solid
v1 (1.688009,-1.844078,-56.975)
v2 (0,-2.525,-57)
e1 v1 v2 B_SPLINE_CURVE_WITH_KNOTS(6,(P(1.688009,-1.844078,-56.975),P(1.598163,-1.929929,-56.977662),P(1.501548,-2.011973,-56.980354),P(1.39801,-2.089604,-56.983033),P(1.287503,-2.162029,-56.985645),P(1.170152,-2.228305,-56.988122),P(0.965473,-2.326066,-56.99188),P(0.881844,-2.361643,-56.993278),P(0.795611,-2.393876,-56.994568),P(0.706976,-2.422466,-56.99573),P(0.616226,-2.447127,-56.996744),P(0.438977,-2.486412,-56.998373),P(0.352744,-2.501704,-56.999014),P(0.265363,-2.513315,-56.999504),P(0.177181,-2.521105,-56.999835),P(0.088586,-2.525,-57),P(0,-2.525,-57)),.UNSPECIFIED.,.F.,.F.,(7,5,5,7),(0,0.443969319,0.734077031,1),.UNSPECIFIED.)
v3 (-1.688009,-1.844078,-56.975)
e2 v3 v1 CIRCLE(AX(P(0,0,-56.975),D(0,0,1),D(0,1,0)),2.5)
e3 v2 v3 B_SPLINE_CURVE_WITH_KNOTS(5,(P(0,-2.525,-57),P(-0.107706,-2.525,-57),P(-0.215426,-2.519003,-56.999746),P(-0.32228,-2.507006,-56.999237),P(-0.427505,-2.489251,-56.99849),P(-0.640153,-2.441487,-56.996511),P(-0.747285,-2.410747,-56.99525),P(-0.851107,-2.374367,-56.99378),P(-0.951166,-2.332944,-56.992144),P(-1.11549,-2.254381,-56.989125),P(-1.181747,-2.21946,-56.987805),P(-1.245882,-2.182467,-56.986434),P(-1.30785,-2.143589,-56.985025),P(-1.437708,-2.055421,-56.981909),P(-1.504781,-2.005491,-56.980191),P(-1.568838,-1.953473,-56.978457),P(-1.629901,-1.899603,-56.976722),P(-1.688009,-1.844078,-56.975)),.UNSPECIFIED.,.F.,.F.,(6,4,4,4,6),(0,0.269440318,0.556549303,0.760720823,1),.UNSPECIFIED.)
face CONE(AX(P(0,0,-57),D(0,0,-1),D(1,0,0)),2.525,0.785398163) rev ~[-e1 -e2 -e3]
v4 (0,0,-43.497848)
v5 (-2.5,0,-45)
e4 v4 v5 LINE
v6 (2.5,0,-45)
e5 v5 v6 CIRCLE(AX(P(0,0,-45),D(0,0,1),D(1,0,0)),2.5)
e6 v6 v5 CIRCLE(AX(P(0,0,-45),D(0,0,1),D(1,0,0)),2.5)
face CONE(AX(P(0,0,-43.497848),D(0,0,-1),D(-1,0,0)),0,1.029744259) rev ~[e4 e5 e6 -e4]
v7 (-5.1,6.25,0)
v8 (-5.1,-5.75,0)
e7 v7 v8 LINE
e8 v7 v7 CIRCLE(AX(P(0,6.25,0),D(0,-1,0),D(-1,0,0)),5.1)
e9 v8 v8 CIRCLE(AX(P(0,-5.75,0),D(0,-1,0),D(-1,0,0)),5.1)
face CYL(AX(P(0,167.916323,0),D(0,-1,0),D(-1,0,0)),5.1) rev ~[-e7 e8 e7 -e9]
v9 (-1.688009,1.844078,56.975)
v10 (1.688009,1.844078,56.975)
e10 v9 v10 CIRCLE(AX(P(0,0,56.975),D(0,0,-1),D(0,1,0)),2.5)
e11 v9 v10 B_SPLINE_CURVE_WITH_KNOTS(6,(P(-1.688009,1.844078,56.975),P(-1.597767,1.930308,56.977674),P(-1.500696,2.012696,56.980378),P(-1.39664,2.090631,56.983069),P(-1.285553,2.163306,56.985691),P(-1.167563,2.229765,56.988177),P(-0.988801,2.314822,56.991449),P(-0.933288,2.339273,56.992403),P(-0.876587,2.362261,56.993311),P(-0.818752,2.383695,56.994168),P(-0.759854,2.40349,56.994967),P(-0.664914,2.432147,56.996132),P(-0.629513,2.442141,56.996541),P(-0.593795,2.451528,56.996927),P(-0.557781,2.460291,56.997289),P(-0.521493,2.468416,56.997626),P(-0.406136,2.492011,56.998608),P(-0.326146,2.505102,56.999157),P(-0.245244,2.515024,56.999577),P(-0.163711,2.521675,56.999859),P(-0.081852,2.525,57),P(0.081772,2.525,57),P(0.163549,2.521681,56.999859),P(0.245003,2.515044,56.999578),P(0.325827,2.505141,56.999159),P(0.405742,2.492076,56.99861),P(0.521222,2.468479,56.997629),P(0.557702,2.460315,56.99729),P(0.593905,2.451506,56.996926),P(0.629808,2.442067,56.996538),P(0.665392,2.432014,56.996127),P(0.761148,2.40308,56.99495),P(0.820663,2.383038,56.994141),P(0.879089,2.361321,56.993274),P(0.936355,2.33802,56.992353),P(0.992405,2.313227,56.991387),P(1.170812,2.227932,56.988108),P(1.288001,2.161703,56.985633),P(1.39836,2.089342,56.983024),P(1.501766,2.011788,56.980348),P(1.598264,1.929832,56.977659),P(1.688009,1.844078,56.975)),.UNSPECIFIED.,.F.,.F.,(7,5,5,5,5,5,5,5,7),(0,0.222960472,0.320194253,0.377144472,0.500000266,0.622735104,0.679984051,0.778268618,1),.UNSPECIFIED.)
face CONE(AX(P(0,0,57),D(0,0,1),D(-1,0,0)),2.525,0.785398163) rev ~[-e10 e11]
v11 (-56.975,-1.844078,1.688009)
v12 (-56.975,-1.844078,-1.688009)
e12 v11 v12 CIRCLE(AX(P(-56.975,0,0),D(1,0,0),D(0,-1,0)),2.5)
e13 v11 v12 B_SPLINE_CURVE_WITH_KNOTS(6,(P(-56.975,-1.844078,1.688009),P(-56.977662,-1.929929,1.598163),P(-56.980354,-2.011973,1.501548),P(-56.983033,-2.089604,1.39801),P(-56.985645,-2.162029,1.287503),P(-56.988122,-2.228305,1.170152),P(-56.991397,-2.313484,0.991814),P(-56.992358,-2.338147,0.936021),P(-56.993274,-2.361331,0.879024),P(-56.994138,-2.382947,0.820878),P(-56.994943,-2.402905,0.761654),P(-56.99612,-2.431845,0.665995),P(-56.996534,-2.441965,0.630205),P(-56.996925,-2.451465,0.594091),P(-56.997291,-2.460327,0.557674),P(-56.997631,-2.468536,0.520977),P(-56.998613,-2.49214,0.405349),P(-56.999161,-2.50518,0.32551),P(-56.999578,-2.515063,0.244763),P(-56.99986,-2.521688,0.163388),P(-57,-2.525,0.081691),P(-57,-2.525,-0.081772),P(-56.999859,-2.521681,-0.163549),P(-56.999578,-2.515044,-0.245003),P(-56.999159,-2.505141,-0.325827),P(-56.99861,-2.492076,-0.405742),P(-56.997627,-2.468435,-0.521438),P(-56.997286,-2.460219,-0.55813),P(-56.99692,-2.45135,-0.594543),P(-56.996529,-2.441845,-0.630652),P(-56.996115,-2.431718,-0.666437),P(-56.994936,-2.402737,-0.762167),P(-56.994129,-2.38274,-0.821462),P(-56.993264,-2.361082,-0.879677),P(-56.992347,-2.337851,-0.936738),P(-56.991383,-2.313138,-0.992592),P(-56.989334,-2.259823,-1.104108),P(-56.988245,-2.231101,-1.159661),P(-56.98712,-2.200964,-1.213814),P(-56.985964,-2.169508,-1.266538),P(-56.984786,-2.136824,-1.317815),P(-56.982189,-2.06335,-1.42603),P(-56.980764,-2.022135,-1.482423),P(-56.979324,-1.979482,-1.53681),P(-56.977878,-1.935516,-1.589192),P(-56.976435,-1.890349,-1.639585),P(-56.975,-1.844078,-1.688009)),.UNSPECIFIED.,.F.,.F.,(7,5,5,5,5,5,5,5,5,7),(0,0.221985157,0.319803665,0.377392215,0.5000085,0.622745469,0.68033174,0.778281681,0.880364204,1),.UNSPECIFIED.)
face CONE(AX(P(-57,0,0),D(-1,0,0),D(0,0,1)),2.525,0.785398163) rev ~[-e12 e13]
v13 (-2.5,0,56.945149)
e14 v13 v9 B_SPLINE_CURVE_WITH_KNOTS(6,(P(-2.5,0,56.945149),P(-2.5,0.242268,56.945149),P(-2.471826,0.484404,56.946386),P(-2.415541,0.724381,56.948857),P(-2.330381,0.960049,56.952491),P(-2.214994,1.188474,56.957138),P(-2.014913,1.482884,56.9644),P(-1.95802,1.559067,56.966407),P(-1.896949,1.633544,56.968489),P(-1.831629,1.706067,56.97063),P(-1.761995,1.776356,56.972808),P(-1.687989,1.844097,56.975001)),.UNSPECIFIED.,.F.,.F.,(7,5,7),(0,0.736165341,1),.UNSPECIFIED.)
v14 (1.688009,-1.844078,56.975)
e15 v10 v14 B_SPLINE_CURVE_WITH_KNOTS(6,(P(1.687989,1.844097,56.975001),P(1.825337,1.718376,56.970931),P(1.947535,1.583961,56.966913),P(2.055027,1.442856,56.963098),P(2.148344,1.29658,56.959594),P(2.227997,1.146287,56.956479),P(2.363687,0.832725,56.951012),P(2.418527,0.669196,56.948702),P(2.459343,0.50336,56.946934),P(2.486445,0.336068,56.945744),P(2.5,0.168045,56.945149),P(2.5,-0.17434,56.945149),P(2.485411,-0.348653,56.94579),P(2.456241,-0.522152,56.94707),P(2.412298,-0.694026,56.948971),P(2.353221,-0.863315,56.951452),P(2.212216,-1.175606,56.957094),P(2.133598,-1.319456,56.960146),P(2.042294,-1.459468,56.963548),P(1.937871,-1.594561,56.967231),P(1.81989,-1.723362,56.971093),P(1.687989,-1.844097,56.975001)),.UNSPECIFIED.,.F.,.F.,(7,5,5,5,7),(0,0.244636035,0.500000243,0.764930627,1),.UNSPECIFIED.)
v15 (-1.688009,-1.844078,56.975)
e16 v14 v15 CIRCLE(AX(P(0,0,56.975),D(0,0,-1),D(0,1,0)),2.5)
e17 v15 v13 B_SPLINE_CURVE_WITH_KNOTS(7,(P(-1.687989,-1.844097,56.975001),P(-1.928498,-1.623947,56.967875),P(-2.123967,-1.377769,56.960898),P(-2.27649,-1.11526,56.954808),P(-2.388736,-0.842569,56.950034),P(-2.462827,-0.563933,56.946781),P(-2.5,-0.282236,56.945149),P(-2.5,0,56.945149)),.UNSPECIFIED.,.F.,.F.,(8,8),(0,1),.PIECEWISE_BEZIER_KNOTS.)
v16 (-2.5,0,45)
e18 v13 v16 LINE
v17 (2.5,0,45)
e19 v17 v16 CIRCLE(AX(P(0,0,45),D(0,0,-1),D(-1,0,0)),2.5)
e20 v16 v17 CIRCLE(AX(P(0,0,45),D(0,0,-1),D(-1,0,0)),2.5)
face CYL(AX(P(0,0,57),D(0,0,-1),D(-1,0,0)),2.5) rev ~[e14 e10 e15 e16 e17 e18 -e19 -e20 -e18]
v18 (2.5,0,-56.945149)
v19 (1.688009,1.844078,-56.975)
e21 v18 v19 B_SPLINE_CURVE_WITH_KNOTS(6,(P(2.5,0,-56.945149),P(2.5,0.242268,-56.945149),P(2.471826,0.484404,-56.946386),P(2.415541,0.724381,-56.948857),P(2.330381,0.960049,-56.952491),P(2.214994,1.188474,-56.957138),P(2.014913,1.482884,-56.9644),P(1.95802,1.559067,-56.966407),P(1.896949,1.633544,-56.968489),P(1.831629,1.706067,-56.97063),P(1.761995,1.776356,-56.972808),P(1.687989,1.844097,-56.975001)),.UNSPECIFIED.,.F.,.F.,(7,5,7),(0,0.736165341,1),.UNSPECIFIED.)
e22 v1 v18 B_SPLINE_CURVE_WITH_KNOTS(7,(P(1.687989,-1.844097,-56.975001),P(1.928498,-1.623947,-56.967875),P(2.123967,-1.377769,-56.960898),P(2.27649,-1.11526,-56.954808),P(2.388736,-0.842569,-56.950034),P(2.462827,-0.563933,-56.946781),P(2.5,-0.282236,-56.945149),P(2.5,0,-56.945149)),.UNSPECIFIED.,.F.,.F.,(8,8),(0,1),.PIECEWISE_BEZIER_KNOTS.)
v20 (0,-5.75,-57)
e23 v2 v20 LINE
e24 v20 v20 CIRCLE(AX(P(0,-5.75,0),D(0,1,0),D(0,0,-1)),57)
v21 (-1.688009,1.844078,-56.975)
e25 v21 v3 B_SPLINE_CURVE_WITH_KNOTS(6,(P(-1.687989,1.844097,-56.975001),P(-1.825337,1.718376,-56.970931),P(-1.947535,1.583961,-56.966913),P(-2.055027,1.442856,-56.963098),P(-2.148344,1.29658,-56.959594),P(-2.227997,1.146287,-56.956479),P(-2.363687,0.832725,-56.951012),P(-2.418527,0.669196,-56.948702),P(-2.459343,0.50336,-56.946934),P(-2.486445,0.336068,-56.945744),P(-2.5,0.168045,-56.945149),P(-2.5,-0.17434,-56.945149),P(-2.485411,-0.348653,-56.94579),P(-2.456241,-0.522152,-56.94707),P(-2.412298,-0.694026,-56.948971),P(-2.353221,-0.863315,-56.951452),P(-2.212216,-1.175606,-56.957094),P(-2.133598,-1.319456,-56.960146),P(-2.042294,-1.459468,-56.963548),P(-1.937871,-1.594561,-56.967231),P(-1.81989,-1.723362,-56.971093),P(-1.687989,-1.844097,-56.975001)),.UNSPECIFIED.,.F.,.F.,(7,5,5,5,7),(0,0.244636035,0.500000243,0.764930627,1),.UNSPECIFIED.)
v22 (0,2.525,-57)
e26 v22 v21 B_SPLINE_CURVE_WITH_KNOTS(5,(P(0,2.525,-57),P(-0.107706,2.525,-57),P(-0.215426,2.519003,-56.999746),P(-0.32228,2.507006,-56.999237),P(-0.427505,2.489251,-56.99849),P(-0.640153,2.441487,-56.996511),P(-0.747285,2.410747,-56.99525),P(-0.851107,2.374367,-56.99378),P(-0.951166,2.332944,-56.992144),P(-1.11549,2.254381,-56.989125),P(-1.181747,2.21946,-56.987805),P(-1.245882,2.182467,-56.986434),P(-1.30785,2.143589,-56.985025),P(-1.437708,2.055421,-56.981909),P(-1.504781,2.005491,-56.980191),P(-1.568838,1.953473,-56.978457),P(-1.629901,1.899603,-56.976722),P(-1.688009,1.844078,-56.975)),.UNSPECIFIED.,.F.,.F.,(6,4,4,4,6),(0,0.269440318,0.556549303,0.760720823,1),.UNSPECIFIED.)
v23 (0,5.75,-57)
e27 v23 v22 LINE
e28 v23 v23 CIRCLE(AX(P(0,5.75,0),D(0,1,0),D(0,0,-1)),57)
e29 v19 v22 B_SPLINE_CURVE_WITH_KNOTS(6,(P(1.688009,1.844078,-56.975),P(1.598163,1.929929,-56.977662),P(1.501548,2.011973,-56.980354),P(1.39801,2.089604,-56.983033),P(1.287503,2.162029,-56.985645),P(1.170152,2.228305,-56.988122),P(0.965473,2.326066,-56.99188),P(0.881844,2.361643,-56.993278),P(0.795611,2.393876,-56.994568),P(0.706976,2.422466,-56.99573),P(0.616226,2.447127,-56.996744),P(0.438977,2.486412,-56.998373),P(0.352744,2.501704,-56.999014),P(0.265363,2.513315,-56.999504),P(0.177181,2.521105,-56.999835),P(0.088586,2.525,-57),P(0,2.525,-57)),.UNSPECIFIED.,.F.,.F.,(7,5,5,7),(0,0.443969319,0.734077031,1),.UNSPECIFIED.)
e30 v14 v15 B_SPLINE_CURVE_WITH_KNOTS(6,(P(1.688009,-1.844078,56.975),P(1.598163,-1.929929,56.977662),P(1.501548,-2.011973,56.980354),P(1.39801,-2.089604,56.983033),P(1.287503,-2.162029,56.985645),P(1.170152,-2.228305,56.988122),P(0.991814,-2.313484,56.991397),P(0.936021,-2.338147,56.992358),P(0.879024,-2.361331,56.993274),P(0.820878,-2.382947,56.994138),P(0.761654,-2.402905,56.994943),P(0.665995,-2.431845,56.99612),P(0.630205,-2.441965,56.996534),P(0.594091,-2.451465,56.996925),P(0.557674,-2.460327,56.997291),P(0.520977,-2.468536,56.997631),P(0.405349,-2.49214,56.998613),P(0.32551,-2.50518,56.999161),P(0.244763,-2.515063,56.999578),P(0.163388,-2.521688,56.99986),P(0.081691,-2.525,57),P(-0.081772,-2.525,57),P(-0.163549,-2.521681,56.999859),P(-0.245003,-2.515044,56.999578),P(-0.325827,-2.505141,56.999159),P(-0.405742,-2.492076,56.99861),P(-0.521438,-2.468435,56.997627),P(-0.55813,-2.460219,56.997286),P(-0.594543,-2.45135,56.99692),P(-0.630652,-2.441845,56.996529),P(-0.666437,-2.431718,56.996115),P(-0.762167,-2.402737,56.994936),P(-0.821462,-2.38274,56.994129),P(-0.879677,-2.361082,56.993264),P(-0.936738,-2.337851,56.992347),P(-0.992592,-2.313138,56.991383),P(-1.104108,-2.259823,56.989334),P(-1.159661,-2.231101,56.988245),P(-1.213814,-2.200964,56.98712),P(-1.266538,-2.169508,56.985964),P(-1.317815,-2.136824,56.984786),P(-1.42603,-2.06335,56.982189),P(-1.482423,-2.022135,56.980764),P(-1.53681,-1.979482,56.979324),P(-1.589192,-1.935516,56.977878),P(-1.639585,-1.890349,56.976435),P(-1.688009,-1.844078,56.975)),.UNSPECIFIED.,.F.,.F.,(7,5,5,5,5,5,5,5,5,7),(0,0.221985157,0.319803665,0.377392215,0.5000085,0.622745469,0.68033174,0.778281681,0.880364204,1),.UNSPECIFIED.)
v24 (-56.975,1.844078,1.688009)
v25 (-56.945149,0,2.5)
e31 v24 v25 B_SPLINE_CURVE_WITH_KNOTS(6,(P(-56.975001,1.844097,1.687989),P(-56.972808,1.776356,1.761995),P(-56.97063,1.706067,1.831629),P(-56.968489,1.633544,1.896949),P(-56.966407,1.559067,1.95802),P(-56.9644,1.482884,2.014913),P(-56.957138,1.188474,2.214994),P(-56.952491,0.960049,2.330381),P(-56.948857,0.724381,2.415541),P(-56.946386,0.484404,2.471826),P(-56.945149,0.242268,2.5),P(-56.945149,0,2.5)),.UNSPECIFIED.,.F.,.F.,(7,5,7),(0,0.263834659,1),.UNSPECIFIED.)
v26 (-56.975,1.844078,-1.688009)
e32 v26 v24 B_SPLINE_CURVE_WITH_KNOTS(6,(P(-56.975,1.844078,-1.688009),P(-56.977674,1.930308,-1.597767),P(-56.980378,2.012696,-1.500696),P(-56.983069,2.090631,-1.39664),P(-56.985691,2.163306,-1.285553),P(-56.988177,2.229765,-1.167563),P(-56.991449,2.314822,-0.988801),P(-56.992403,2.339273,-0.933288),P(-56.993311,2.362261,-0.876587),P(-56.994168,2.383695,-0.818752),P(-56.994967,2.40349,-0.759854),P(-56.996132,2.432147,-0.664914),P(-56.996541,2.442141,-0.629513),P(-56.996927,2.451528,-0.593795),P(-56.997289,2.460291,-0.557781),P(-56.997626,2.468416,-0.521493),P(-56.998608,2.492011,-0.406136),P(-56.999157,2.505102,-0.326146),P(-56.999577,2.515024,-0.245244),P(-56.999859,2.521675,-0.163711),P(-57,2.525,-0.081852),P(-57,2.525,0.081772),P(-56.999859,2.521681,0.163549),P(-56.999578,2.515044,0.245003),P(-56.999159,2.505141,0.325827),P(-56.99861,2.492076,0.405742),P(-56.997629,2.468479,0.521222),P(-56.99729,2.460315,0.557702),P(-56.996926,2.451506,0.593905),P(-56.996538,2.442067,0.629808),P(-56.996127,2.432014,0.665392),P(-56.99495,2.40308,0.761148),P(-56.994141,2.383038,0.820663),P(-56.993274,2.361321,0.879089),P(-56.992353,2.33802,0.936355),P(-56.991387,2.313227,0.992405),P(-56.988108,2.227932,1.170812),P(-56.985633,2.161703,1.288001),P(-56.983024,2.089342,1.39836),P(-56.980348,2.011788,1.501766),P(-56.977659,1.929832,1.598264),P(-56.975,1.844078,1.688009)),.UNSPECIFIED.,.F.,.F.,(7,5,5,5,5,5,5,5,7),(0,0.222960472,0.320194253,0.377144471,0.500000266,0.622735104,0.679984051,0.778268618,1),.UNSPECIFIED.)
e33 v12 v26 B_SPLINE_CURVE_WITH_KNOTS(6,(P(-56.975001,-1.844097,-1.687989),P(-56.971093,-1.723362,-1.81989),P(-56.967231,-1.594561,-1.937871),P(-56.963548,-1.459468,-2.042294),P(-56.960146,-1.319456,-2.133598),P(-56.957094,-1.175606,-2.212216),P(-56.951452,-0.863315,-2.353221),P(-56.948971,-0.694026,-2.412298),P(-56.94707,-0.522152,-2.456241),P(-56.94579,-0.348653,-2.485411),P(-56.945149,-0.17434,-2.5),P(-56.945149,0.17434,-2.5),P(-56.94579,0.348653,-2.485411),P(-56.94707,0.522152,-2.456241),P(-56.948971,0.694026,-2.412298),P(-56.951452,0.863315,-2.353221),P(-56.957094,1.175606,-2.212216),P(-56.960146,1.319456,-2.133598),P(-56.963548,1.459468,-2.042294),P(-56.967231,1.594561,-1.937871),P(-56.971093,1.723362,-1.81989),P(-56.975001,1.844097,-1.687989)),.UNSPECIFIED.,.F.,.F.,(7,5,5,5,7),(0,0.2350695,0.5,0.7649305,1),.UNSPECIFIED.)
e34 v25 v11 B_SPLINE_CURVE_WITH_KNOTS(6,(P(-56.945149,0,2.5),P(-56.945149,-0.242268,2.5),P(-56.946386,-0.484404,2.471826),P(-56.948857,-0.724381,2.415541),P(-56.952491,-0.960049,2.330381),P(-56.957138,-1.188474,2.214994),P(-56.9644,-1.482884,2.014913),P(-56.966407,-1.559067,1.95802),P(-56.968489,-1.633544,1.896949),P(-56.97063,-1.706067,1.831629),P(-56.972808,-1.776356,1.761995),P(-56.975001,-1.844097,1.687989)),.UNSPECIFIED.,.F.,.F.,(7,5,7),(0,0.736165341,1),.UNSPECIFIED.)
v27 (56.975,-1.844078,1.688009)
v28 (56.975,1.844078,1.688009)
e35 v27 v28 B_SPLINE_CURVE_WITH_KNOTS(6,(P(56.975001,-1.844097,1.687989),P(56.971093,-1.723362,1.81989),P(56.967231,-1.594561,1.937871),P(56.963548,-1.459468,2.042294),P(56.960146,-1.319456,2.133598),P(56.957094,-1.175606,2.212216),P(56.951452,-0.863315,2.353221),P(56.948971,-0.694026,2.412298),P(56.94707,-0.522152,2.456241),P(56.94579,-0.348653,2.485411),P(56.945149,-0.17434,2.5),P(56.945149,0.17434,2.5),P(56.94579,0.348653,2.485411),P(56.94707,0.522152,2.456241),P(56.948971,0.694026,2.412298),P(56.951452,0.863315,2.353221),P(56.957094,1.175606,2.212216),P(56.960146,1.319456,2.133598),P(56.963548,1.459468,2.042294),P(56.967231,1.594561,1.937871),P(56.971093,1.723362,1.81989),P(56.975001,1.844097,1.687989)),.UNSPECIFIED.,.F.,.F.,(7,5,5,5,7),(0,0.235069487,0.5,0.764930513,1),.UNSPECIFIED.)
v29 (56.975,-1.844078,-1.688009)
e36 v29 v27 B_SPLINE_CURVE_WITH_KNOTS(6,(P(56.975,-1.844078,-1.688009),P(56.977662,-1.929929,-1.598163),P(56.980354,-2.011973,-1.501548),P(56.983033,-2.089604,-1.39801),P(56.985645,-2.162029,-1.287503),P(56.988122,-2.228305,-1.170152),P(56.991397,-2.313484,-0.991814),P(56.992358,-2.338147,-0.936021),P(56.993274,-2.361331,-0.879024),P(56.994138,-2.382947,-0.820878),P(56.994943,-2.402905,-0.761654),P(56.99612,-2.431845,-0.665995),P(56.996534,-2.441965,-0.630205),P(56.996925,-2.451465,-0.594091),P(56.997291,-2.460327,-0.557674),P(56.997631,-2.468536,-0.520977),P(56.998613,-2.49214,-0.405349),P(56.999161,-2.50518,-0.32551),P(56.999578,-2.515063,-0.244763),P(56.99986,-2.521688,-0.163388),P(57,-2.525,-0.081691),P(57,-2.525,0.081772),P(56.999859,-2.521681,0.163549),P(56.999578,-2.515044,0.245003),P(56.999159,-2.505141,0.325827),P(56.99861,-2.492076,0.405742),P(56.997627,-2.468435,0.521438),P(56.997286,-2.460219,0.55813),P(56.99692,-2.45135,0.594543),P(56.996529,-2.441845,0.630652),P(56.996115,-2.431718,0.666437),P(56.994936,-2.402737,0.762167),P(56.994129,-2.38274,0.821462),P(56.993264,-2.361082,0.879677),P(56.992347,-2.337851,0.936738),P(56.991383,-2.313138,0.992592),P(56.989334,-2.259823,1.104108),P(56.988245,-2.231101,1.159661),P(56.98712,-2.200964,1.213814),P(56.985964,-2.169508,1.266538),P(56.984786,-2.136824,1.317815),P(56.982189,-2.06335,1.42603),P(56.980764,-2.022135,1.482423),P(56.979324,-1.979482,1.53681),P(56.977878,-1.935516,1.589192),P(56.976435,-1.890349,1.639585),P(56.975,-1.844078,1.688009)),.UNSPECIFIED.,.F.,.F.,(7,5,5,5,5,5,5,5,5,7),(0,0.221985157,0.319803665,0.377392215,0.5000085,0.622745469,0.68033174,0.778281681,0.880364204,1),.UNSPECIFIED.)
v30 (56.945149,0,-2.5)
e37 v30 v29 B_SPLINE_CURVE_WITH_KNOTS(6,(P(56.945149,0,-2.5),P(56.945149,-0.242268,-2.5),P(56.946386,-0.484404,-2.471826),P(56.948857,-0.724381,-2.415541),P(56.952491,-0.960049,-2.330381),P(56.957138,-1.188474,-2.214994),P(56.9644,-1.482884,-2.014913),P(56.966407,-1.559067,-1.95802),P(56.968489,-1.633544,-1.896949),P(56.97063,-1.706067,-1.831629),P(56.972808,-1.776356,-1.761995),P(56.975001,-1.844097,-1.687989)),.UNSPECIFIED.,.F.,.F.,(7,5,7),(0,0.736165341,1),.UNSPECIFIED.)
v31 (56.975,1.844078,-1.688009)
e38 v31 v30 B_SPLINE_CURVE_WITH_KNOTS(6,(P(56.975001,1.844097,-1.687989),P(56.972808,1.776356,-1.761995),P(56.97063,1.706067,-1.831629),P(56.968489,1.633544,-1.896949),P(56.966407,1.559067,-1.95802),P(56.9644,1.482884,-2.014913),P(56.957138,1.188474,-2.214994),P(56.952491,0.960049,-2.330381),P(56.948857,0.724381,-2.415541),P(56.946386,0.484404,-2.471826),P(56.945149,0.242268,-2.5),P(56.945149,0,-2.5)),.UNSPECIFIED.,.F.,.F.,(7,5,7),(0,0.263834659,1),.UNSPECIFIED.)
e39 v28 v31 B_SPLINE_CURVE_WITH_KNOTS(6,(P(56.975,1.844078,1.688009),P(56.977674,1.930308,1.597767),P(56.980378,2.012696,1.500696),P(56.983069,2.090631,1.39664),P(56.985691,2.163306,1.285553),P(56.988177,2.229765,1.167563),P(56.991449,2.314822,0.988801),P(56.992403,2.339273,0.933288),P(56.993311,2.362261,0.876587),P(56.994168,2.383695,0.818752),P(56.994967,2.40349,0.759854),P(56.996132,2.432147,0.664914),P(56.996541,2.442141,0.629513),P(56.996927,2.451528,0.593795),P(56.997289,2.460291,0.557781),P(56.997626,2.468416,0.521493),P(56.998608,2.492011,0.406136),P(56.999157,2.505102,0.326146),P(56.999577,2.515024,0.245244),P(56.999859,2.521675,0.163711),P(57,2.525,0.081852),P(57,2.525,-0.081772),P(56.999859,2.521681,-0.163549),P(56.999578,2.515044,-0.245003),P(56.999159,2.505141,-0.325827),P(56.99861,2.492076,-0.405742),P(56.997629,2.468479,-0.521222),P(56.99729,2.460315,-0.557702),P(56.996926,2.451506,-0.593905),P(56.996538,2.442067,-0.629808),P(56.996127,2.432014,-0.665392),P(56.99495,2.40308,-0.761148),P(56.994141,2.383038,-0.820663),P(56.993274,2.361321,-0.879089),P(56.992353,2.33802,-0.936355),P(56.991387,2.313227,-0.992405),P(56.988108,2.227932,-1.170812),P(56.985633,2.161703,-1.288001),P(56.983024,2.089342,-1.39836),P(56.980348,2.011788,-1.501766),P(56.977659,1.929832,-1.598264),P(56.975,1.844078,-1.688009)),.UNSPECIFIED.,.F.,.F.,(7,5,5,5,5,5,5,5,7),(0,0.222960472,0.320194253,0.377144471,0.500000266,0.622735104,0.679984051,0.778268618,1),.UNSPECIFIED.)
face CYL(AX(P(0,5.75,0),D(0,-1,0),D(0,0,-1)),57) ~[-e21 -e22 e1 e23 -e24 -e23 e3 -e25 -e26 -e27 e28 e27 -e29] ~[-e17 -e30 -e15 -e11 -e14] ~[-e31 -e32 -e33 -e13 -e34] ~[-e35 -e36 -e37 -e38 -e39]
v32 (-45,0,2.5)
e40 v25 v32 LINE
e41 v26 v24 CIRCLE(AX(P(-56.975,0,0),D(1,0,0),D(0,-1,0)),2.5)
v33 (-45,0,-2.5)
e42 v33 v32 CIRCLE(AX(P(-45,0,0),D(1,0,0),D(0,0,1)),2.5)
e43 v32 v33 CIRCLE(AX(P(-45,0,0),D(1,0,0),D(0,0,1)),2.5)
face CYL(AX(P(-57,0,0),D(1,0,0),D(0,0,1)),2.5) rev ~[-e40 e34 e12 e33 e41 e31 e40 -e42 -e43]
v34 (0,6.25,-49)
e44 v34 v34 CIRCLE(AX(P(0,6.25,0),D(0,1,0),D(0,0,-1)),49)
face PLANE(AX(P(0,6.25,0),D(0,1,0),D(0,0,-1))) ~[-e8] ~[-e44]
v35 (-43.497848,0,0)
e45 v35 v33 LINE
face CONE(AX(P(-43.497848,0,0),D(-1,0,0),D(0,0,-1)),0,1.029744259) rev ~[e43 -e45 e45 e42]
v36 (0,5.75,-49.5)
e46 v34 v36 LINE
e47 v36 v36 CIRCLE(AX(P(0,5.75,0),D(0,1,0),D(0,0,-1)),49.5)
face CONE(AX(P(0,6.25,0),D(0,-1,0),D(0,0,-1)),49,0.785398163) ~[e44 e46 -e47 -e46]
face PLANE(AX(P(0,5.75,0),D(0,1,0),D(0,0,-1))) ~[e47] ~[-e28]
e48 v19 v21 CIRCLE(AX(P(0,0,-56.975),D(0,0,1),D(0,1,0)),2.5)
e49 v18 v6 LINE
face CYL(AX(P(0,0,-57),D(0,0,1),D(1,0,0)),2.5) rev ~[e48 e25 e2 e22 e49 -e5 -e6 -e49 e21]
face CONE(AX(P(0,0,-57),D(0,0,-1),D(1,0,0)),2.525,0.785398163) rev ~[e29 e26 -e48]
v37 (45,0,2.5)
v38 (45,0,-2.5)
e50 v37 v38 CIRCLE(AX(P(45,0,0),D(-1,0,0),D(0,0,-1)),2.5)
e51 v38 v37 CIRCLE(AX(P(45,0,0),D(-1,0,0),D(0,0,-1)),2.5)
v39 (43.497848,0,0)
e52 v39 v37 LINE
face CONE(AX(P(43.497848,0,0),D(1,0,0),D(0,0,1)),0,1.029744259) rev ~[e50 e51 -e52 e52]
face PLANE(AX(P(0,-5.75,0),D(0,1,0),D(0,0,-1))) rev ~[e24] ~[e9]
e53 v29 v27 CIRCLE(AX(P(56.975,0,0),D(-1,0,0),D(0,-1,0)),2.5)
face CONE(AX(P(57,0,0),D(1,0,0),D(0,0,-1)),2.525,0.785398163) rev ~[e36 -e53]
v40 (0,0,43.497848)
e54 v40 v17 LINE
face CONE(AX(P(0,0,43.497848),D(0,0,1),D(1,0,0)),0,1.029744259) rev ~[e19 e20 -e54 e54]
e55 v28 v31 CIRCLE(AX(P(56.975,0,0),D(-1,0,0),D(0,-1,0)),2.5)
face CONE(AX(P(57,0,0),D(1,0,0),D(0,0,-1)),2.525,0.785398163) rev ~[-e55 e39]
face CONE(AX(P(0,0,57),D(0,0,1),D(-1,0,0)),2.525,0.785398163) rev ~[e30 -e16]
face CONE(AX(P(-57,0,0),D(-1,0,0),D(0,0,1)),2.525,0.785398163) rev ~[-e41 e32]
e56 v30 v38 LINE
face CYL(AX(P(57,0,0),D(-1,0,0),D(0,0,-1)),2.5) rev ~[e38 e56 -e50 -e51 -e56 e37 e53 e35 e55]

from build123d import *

# Parameters (mm, degrees)
F_5_0MM_DOWEL_HOLE1_D                     = 5
F_5_0MM_DOWEL_HOLE1_DEPTH                 = 12
F_5_0MM_DOWEL_HOLE1_CSINK_D               = 5.05
F_5_0MM_DOWEL_HOLE1_CSINK_ANGLE           = 90
F_5_0MM_DOWEL_HOLE1_TIP                   = 1.502151548
F_5_0MM_DOWEL_HOLE1_ON_FACE_2_D           = 5
F_5_0MM_DOWEL_HOLE1_ON_FACE_2_DEPTH       = 12
F_5_0MM_DOWEL_HOLE1_ON_FACE_2_CSINK_D     = 5.05
F_5_0MM_DOWEL_HOLE1_ON_FACE_2_CSINK_ANGLE = 90
F_5_0MM_DOWEL_HOLE1_ON_FACE_2_TIP         = 1.502151548
F_5_0MM_DOWEL_HOLE1_ON_FACE_3_D           = 5
F_5_0MM_DOWEL_HOLE1_ON_FACE_3_DEPTH       = 12
F_5_0MM_DOWEL_HOLE1_ON_FACE_3_CSINK_D     = 5.05
F_5_0MM_DOWEL_HOLE1_ON_FACE_3_CSINK_ANGLE = 90
F_5_0MM_DOWEL_HOLE1_ON_FACE_3_TIP         = 1.502151548
F_5_0MM_DOWEL_HOLE1_ON_FACE_4_D           = 5
F_5_0MM_DOWEL_HOLE1_ON_FACE_4_DEPTH       = 12
F_5_0MM_DOWEL_HOLE1_ON_FACE_4_CSINK_D     = 5.05
F_5_0MM_DOWEL_HOLE1_ON_FACE_4_CSINK_ANGLE = 90
F_5_0MM_DOWEL_HOLE1_ON_FACE_4_TIP         = 1.502151548
M12_TAPPED_HOLE1_D                        = 10.2


with BuildPart() as part:
    # Sketch1 → Revolve1 (revolve)
    with BuildSketch(Plane.XY, mode=Mode.PRIVATE) as revolve1_sk:
        Polygon((0, 6.25), (49, 6.25), (49.5, 5.75), (57, 5.75), (57, -5.75), (0, -5.75), align=None)
    revolve(revolve1_sk.sketch.rotate(Axis((0, 0, 0), (0, 1, 0)), 90), axis=Axis((0, 0, 0), (0, 1, 0)))

    # Ø5.0mm Dowel Hole1
    with Locations(Plane(origin=(57, 0, 0), x_dir=(0, 0, 1), z_dir=(1, 0, 0))):
        with Locations((0, 0)):
            CounterSinkHole(F_5_0MM_DOWEL_HOLE1_D / 2, F_5_0MM_DOWEL_HOLE1_CSINK_D / 2, depth=F_5_0MM_DOWEL_HOLE1_DEPTH, counter_sink_angle=F_5_0MM_DOWEL_HOLE1_CSINK_ANGLE)
            with Locations((0, 0, -(F_5_0MM_DOWEL_HOLE1_DEPTH + F_5_0MM_DOWEL_HOLE1_TIP / 2))):  # 118° drill point
                Cone(0, F_5_0MM_DOWEL_HOLE1_D / 2, F_5_0MM_DOWEL_HOLE1_TIP, mode=Mode.SUBTRACT)

    # Ø5.0mm Dowel Hole1 on face 2
    with Locations(Plane.XY.offset(57)):
        with Locations((0, 0)):
            CounterSinkHole(F_5_0MM_DOWEL_HOLE1_ON_FACE_2_D / 2, F_5_0MM_DOWEL_HOLE1_ON_FACE_2_CSINK_D / 2, depth=F_5_0MM_DOWEL_HOLE1_ON_FACE_2_DEPTH, counter_sink_angle=F_5_0MM_DOWEL_HOLE1_ON_FACE_2_CSINK_ANGLE)
            with Locations((0, 0, -(F_5_0MM_DOWEL_HOLE1_ON_FACE_2_DEPTH + F_5_0MM_DOWEL_HOLE1_ON_FACE_2_TIP / 2))):  # 118° drill point
                Cone(0, F_5_0MM_DOWEL_HOLE1_ON_FACE_2_D / 2, F_5_0MM_DOWEL_HOLE1_ON_FACE_2_TIP, mode=Mode.SUBTRACT)

    # Ø5.0mm Dowel Hole1 on face 3
    with Locations(Plane(origin=(-57, 0, 0), x_dir=(0, 0, -1), z_dir=(-1, 0, 0))):
        with Locations((0, 0)):
            CounterSinkHole(F_5_0MM_DOWEL_HOLE1_ON_FACE_3_D / 2, F_5_0MM_DOWEL_HOLE1_ON_FACE_3_CSINK_D / 2, depth=F_5_0MM_DOWEL_HOLE1_ON_FACE_3_DEPTH, counter_sink_angle=F_5_0MM_DOWEL_HOLE1_ON_FACE_3_CSINK_ANGLE)
            with Locations((0, 0, -(F_5_0MM_DOWEL_HOLE1_ON_FACE_3_DEPTH + F_5_0MM_DOWEL_HOLE1_ON_FACE_3_TIP / 2))):  # 118° drill point
                Cone(0, F_5_0MM_DOWEL_HOLE1_ON_FACE_3_D / 2, F_5_0MM_DOWEL_HOLE1_ON_FACE_3_TIP, mode=Mode.SUBTRACT)

    # Ø5.0mm Dowel Hole1 on face 4
    with Locations(Plane(origin=(0, 0, -57), x_dir=(-1, 0, 0), z_dir=(0, 0, -1))):
        with Locations((0, 0)):
            CounterSinkHole(F_5_0MM_DOWEL_HOLE1_ON_FACE_4_D / 2, F_5_0MM_DOWEL_HOLE1_ON_FACE_4_CSINK_D / 2, depth=F_5_0MM_DOWEL_HOLE1_ON_FACE_4_DEPTH, counter_sink_angle=F_5_0MM_DOWEL_HOLE1_ON_FACE_4_CSINK_ANGLE)
            with Locations((0, 0, -(F_5_0MM_DOWEL_HOLE1_ON_FACE_4_DEPTH + F_5_0MM_DOWEL_HOLE1_ON_FACE_4_TIP / 2))):  # 118° drill point
                Cone(0, F_5_0MM_DOWEL_HOLE1_ON_FACE_4_D / 2, F_5_0MM_DOWEL_HOLE1_ON_FACE_4_TIP, mode=Mode.SUBTRACT)

    # M12 Tapped Hole1 (through all)
    with Locations(Plane(origin=(0, 6.25, 0), x_dir=(1, 0, 0), z_dir=(0, 1, 0))):
        with Locations((0, 0)):
            Hole(M12_TAPPED_HOLE1_D / 2)


solid = part.part
